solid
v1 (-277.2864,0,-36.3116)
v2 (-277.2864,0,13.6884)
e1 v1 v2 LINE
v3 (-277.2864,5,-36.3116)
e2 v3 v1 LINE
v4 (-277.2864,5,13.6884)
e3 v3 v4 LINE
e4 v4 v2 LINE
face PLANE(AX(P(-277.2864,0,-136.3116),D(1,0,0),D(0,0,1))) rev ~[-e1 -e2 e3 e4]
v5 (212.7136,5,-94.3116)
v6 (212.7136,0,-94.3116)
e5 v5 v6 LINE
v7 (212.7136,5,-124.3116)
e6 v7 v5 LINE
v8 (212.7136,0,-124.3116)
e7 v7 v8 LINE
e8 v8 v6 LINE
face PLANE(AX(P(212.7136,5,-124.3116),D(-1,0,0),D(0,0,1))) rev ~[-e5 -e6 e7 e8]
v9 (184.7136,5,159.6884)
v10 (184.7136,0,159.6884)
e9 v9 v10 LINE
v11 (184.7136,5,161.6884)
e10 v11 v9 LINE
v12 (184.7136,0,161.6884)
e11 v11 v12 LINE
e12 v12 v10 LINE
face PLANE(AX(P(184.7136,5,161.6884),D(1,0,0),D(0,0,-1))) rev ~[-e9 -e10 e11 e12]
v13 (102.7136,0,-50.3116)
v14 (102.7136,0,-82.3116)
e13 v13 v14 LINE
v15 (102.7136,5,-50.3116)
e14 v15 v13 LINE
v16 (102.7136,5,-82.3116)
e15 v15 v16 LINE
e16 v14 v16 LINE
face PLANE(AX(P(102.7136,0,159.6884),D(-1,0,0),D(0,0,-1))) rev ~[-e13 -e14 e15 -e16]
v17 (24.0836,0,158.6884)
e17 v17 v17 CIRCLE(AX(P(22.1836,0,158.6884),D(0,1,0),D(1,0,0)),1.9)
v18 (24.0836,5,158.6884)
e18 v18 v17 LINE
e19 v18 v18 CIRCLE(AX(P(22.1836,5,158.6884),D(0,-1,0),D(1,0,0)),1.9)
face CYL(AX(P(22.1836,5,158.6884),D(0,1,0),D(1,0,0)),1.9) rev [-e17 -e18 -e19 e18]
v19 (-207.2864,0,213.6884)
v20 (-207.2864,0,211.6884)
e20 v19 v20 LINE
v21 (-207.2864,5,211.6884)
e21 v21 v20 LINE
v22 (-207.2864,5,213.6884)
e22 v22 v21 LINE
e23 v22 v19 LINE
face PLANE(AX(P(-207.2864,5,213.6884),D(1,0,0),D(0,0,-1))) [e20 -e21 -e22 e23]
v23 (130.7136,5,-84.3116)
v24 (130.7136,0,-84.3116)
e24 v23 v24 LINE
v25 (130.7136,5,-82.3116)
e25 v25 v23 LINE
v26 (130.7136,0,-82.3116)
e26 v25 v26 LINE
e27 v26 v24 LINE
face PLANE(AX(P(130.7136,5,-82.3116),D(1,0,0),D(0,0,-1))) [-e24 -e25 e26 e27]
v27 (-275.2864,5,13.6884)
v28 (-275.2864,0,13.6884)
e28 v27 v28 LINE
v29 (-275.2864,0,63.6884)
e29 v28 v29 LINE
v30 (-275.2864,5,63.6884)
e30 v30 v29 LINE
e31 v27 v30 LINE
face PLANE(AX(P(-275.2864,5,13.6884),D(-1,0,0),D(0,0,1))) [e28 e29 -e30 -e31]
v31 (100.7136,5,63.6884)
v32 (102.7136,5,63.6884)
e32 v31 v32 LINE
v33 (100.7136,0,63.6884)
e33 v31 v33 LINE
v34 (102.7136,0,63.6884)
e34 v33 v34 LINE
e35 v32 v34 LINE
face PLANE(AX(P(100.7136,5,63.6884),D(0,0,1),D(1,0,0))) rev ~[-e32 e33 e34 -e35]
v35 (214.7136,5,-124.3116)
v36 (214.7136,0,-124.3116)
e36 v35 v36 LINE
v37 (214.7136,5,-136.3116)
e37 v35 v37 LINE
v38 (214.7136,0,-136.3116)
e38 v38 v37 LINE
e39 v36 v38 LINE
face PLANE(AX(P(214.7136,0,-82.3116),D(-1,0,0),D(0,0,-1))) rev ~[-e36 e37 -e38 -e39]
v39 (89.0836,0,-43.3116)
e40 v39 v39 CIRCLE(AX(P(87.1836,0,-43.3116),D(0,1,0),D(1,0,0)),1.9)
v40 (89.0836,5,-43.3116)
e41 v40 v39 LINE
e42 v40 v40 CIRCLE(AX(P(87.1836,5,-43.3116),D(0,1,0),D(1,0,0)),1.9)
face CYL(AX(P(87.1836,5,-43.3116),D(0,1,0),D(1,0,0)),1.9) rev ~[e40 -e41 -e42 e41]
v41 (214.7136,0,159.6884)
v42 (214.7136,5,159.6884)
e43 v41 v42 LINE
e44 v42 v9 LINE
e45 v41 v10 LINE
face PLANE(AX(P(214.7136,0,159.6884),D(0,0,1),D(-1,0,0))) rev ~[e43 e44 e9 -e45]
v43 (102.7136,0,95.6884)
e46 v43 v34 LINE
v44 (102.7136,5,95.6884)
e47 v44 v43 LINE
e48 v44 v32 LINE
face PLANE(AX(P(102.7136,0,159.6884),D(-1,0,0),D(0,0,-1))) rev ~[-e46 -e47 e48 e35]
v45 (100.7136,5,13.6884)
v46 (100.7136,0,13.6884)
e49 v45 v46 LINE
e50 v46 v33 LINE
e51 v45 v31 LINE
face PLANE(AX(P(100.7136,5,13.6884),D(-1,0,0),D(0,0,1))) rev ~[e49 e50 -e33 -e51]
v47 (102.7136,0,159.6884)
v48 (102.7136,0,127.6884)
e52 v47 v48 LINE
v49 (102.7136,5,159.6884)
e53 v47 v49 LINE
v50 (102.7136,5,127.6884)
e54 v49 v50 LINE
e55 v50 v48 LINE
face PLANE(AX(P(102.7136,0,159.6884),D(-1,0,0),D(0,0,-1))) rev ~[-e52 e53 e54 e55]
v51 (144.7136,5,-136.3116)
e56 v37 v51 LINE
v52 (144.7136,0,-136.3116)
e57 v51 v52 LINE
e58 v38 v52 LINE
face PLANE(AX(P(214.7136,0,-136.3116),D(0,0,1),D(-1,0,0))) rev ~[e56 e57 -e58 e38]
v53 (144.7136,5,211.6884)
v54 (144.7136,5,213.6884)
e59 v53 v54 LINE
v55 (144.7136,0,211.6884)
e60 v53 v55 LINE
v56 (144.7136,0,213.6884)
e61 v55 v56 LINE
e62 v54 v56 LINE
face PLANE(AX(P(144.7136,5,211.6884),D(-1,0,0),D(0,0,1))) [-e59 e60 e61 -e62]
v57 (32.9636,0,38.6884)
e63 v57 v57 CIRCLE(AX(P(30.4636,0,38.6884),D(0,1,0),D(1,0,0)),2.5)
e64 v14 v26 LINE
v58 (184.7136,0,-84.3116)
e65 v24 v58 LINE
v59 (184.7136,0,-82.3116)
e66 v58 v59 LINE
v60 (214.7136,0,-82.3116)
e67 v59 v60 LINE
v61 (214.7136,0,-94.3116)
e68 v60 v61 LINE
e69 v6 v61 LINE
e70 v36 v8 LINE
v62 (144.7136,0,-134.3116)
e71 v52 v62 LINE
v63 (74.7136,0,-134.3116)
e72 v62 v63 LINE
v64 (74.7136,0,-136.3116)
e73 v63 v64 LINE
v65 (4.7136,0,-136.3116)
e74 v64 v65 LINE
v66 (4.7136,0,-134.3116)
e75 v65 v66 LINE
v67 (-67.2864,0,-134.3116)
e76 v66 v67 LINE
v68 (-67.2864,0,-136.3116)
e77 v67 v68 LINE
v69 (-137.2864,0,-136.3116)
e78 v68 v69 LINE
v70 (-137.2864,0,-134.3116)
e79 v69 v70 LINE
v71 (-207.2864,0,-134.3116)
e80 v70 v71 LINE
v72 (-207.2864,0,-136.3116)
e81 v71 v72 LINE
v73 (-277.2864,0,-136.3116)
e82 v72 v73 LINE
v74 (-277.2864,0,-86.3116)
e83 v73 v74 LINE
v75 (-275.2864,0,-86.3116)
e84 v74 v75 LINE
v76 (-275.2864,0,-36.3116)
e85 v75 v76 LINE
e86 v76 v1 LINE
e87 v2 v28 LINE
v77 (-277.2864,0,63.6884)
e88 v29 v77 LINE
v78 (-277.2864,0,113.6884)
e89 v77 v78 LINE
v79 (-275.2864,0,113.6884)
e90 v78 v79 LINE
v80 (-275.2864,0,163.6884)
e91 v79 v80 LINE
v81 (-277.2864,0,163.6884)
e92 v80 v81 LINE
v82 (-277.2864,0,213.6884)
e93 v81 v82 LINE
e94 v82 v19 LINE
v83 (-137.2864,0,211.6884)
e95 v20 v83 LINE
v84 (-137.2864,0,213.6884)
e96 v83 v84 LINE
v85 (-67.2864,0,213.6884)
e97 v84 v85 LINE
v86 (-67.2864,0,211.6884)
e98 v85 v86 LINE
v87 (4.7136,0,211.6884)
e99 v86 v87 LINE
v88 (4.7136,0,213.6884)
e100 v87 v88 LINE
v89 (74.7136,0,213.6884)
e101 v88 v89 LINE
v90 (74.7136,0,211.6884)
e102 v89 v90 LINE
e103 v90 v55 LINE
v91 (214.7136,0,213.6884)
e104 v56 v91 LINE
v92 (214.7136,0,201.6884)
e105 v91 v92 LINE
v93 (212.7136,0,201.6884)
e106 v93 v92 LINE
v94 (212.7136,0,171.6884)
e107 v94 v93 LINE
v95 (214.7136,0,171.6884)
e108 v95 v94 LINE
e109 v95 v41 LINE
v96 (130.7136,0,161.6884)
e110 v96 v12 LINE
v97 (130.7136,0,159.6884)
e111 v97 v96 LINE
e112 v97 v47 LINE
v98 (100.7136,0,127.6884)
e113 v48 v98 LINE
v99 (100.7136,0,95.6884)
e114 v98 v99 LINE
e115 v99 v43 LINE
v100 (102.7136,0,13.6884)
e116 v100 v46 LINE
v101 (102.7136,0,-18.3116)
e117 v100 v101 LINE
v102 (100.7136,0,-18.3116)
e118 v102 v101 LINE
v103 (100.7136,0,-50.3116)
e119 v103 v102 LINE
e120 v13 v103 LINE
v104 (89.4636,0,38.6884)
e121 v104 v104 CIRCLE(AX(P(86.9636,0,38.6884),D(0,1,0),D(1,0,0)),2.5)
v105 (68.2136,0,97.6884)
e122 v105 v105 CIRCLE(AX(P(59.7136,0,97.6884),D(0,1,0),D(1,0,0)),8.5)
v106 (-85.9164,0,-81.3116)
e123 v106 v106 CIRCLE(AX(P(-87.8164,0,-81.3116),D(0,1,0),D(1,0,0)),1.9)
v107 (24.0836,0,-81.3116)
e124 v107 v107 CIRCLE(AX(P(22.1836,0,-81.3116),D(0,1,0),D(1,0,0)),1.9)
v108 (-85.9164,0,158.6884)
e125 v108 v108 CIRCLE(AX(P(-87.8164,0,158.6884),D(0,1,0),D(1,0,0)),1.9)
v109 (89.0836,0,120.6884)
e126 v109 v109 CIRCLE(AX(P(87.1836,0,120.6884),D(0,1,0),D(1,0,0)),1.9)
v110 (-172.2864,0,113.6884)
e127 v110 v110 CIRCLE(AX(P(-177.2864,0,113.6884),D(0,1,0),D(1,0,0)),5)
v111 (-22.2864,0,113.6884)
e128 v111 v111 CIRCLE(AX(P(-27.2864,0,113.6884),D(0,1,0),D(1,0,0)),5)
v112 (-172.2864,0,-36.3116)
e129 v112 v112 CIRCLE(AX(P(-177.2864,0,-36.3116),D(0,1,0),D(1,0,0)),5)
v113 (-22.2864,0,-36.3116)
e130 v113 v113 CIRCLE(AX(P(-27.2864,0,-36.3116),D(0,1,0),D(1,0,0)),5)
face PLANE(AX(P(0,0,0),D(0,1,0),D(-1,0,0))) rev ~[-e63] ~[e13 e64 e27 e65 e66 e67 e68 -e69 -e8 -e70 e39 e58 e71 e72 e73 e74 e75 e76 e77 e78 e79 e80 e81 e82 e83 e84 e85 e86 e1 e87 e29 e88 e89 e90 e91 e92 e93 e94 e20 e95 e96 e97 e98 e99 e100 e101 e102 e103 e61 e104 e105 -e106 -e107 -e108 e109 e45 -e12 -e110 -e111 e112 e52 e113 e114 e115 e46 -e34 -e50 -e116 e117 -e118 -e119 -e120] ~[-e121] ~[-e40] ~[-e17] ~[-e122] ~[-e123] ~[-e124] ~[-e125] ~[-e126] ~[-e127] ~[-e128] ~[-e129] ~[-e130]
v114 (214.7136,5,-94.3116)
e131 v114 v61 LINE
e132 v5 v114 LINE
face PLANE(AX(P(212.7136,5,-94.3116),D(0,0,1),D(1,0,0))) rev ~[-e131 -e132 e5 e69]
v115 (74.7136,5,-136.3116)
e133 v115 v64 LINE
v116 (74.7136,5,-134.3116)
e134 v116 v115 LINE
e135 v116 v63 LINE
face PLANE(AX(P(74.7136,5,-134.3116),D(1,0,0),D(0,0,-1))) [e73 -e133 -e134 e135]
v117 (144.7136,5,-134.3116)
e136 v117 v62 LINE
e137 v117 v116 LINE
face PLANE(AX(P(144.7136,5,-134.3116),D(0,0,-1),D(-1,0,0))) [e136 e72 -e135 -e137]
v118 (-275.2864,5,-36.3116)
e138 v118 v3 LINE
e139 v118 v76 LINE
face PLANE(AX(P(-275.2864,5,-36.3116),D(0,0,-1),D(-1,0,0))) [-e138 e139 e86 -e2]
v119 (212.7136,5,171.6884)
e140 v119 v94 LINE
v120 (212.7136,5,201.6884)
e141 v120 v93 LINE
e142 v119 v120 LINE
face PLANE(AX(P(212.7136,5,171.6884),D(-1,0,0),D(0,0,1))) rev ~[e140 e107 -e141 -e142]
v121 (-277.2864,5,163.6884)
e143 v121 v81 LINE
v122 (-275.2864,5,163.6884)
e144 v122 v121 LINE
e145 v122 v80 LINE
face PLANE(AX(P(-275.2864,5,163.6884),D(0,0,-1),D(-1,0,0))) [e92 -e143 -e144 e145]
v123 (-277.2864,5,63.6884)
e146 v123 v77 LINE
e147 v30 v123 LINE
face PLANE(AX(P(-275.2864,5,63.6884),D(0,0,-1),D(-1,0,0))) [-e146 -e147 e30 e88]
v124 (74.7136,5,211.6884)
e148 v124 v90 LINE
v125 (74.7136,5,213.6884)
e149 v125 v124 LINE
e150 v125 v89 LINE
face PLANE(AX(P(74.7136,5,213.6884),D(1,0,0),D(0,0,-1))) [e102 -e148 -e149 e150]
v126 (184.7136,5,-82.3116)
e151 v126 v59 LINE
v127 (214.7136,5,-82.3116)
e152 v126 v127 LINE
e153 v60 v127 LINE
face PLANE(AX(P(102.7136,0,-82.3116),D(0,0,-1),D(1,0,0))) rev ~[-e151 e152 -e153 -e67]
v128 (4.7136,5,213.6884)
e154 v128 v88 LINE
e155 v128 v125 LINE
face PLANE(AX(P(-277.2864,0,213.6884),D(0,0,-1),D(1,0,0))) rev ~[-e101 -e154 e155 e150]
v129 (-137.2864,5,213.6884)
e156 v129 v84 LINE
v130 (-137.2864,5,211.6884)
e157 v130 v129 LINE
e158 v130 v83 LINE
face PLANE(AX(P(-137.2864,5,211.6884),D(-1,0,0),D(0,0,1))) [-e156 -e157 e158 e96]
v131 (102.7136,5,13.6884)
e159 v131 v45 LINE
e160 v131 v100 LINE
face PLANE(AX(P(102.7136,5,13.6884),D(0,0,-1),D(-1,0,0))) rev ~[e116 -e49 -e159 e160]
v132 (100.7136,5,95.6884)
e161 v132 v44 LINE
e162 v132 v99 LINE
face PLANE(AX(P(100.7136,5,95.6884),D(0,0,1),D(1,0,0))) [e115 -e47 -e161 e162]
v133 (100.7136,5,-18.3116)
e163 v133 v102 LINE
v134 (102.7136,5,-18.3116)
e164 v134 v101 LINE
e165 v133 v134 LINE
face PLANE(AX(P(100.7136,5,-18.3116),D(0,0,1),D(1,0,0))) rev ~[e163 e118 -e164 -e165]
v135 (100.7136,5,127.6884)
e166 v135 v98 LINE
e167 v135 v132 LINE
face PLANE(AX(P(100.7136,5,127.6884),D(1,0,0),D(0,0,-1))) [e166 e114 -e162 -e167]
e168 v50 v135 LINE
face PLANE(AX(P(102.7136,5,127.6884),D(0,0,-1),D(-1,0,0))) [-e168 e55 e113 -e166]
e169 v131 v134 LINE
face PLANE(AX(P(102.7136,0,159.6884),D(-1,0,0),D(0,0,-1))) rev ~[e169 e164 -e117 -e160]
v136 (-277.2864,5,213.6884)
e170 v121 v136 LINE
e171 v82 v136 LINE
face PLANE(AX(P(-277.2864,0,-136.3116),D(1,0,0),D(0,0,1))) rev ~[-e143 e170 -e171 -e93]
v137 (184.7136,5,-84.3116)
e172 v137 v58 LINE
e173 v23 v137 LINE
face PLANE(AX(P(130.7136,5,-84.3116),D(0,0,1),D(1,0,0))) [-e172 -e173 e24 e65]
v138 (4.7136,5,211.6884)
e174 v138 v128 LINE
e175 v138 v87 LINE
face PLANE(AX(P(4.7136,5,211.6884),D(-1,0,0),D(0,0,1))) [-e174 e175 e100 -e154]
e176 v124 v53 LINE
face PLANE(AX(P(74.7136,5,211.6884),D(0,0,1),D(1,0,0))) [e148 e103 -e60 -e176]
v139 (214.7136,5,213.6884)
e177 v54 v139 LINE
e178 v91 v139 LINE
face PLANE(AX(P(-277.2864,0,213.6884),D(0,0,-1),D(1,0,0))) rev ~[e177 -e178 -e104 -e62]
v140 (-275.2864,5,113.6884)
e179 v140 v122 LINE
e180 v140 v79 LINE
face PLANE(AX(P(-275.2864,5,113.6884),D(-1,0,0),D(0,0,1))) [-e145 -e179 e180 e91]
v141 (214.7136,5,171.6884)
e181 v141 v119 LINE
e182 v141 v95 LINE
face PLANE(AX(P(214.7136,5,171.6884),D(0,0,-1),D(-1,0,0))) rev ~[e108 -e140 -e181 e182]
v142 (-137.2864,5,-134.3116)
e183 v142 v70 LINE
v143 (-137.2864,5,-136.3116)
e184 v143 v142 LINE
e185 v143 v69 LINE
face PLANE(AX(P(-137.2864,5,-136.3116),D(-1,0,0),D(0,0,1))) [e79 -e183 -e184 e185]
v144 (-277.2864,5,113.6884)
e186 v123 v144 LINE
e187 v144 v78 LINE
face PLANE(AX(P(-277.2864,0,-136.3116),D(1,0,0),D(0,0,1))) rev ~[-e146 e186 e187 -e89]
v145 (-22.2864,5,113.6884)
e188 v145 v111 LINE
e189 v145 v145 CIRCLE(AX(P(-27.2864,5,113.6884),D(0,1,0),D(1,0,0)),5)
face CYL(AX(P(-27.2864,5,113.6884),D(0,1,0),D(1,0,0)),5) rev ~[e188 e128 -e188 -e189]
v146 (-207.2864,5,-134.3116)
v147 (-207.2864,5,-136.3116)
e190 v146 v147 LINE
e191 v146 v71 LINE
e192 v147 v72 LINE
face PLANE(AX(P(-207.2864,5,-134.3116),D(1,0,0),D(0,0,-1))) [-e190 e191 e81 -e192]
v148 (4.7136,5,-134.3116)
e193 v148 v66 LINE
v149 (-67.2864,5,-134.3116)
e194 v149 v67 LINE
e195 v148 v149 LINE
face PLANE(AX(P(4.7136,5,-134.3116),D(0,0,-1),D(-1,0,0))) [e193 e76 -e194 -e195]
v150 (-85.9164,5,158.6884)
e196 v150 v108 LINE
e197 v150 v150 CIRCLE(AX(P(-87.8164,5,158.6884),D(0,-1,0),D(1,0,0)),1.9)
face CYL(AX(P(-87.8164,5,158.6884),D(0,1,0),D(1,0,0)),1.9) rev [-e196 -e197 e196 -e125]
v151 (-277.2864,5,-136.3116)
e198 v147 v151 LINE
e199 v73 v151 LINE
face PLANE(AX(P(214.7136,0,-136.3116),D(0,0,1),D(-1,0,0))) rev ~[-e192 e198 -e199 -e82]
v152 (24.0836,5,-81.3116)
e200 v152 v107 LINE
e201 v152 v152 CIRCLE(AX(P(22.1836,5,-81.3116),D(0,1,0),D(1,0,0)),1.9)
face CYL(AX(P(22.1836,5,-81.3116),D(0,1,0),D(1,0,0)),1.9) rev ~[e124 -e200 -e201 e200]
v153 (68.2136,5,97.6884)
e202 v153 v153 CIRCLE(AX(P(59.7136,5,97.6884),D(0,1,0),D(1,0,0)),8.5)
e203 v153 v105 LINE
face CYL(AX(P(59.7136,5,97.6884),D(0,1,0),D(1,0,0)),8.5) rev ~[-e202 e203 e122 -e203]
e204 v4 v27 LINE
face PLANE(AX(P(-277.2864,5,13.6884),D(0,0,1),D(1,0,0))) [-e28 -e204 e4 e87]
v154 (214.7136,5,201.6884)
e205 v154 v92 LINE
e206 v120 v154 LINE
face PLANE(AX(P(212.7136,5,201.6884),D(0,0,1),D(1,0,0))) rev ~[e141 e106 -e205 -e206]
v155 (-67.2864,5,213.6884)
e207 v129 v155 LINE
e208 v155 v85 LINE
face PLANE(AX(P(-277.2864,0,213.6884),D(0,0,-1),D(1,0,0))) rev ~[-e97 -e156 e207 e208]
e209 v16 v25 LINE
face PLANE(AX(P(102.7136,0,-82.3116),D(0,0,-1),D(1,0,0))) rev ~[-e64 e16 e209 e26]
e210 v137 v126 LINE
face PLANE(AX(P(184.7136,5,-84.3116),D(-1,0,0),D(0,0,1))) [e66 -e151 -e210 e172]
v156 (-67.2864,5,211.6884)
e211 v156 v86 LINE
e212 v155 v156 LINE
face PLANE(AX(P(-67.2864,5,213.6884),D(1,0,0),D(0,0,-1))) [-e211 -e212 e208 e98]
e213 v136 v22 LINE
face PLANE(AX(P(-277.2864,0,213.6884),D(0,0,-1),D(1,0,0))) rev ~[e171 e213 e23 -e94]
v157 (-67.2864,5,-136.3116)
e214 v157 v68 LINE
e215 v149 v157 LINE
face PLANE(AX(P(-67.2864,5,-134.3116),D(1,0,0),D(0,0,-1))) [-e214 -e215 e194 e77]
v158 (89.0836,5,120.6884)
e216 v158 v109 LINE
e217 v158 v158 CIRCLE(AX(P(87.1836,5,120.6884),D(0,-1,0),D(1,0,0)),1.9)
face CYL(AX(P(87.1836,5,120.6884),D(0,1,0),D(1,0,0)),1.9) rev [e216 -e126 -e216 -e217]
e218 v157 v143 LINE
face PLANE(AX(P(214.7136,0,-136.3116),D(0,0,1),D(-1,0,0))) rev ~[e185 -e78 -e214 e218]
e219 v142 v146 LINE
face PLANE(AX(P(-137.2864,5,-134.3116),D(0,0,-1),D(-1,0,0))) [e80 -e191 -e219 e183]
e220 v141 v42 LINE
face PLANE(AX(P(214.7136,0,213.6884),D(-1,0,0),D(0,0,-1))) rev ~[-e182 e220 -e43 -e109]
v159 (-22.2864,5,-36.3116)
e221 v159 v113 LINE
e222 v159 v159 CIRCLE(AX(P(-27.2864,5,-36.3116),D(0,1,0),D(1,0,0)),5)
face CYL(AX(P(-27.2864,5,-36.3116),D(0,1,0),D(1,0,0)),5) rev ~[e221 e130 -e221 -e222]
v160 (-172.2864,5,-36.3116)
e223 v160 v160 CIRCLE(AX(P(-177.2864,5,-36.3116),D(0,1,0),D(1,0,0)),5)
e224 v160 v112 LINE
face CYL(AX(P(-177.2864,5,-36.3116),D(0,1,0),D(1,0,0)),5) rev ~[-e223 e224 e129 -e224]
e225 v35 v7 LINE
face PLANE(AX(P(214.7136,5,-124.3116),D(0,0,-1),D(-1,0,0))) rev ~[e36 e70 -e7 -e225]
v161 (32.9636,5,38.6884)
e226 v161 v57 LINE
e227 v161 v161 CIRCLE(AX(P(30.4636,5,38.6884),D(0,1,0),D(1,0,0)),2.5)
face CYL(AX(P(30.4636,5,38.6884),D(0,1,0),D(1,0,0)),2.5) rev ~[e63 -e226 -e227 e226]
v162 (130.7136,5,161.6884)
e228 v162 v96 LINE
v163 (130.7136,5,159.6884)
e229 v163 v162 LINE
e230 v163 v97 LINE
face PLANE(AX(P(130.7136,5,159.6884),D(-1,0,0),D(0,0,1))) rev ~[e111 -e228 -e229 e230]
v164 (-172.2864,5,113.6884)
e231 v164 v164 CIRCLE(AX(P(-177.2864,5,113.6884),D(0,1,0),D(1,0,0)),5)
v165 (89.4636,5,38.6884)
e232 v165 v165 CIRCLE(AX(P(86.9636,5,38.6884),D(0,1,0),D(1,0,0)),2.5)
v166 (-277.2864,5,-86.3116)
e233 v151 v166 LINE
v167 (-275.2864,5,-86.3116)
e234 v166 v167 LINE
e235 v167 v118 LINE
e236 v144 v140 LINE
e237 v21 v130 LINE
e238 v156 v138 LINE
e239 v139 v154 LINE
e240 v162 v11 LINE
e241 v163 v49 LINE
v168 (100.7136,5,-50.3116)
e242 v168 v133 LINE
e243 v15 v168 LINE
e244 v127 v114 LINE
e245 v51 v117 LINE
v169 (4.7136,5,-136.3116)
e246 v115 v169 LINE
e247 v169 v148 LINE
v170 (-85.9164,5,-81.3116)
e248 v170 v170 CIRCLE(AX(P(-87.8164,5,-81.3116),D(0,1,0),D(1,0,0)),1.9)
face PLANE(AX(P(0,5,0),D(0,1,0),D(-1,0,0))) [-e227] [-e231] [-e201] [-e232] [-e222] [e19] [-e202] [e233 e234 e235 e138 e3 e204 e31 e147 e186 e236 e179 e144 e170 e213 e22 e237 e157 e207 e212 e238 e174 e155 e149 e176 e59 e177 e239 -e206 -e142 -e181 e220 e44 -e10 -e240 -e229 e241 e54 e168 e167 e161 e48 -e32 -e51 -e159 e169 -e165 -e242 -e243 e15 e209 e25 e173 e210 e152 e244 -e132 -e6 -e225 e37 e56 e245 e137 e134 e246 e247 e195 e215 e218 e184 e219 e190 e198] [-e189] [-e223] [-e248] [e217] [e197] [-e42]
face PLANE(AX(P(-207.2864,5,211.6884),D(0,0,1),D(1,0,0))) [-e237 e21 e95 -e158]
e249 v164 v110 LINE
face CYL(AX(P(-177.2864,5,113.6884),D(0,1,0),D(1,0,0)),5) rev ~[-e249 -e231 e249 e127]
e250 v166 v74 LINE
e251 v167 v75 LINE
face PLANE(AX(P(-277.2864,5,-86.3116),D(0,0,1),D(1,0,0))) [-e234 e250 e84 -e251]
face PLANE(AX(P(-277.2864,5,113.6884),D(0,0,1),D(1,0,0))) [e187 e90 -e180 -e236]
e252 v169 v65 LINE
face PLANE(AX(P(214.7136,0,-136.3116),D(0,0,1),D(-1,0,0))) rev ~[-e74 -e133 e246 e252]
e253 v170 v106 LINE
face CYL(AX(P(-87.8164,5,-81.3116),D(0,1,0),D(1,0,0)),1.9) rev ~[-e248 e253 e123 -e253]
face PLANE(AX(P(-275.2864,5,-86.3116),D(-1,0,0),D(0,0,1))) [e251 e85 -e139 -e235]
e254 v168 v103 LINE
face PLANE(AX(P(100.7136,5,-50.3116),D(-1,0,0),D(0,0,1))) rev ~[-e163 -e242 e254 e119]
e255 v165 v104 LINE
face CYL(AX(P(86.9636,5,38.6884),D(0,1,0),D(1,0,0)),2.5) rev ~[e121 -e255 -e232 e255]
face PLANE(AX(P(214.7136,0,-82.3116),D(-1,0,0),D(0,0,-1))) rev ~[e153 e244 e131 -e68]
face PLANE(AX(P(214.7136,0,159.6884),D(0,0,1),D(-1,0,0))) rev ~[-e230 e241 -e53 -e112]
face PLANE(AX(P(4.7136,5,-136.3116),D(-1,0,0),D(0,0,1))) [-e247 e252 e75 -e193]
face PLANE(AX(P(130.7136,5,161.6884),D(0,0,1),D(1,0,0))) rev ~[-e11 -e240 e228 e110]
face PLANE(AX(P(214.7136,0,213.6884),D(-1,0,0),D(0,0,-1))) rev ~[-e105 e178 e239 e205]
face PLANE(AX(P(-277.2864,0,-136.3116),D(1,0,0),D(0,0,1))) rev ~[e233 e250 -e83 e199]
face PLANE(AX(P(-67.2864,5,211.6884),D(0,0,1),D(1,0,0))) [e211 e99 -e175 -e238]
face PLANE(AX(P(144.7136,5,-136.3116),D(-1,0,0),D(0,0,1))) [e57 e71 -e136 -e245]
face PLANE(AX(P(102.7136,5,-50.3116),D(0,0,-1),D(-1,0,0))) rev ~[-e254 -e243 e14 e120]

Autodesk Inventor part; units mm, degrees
ref_plane "YZ Plane" through (0, 0, 0) normal (1, 0, 0) x (0, 1, 0)
ref_plane "XZ Plane" through (0, 0, 0) normal (0, 1, 0) x (-1, 0, 0)
sketch "Sketch1" plane through (0, 0, 0) normal (0, 1, 0) x (-1, 0, 0)
  line L0 (277.2864, 213.6884) -> (-214.7136, 213.6884)
  line L1 (-214.7136, -136.3116) -> (277.2864, -136.3116)
  line L2 (277.2864, -136.3116) -> (277.2864, 213.6884)
  line L3 (-214.7136, 159.6884) -> (-102.7136, 159.6884)
  line L4 (-102.7136, 159.6884) -> (-102.7136, -82.3116)
  line L5 (-102.7136, -82.3116) -> (-214.7136, -82.3116)
  line L6 (-214.7136, 213.6884) -> (-214.7136, 159.6884)
  line L7 (-214.7136, -82.3116) -> (-214.7136, -136.3116)
  point P0 (0, 0)
  dimension "d0" = 350
  dimension "d1" = 492
  dimension "d2" = 112
  dimension "d3" = 112
  dimension "d4" = 54
  dimension "d5" = 54
extrude "Extrusion1" add sketch "Sketch1" along normal blind 5
sketch "Sketch2" plane through (0, 5, 0) normal (0, 1, 0) x (1, 0, 0)
  line L0 (214.7136, 136.3116) -> (-277.2864, 136.3116) projected
  line L1 (-207.2864, 136.3116) -> (-137.2864, 136.3116)
  line L2 (-137.2864, 136.3116) -> (-137.2864, 134.3116)
  line L3 (-137.2864, 134.3116) -> (-207.2864, 134.3116)
  line L4 (-207.2864, 134.3116) -> (-207.2864, 136.3116)
  line L5 (-67.2864, 136.3116) -> (4.7136, 136.3116)
  line L6 (4.7136, 136.3116) -> (4.7136, 134.3116)
  line L7 (4.7136, 134.3116) -> (-67.2864, 134.3116)
  line L8 (-67.2864, 134.3116) -> (-67.2864, 136.3116)
  line L9 (74.7136, 136.3116) -> (144.7136, 136.3116)
  line L10 (144.7136, 136.3116) -> (144.7136, 134.3116)
  line L11 (144.7136, 134.3116) -> (74.7136, 134.3116)
  line L12 (74.7136, 134.3116) -> (74.7136, 136.3116)
  line L13 (-277.2864, -213.6884) -> (214.7136, -213.6884) projected
  line L14 (144.7136, -213.6884) -> (74.7136, -213.6884)
  line L15 (74.7136, -213.6884) -> (74.7136, -211.6884)
  line L16 (74.7136, -211.6884) -> (144.7136, -211.6884)
  line L17 (144.7136, -211.6884) -> (144.7136, -213.6884)
  line L18 (4.7136, -213.6884) -> (-67.2864, -213.6884)
  line L19 (-67.2864, -213.6884) -> (-67.2864, -211.6884)
  line L20 (-67.2864, -211.6884) -> (4.7136, -211.6884)
  line L21 (4.7136, -211.6884) -> (4.7136, -213.6884)
  line L22 (-137.2864, -213.6884) -> (-207.2864, -213.6884)
  line L23 (-207.2864, -213.6884) -> (-207.2864, -211.6884)
  line L24 (-207.2864, -211.6884) -> (-137.2864, -211.6884)
  line L25 (-137.2864, -211.6884) -> (-137.2864, -213.6884)
  line L26 (-277.2864, 136.3116) -> (-277.2864, -213.6884) projected
  line L27 (-277.2864, 86.3116) -> (-275.2864, 86.3116)
  line L28 (-275.2864, 86.3116) -> (-275.2864, 36.3116)
  line L29 (-275.2864, 36.3116) -> (-277.2864, 36.3116)
  line L30 (-277.2864, 36.3116) -> (-277.2864, 86.3116)
  line L31 (-277.2864, -13.6884) -> (-275.2864, -13.6884)
  line L32 (-275.2864, -13.6884) -> (-275.2864, -63.6884)
  line L33 (-275.2864, -63.6884) -> (-277.2864, -63.6884)
  line L34 (-277.2864, -63.6884) -> (-277.2864, -13.6884)
  line L35 (-277.2864, -113.6884) -> (-275.2864, -113.6884)
  line L36 (-275.2864, -113.6884) -> (-275.2864, -163.6884)
  line L37 (-275.2864, -163.6884) -> (-277.2864, -163.6884)
  line L38 (-277.2864, -163.6884) -> (-277.2864, -113.6884)
  line L39 (214.7136, 82.3116) -> (214.7136, 136.3116) projected
  line L40 (214.7136, 124.3116) -> (212.7136, 124.3116)
  line L41 (212.7136, 124.3116) -> (212.7136, 94.3116)
  line L42 (212.7136, 94.3116) -> (214.7136, 94.3116)
  line L43 (214.7136, 94.3116) -> (214.7136, 124.3116)
  line L44 (214.7136, -213.6884) -> (214.7136, -159.6884) projected
  line L45 (214.7136, -171.6884) -> (212.7136, -171.6884)
  line L46 (212.7136, -171.6884) -> (212.7136, -201.6884)
  line L47 (212.7136, -201.6884) -> (214.7136, -201.6884)
  line L48 (214.7136, -201.6884) -> (214.7136, -171.6884)
  line L49 (102.7136, 82.3116) -> (214.7136, 82.3116) projected
  line L50 (214.7136, -159.6884) -> (102.7136, -159.6884) projected
  line L51 (184.7136, 82.3116) -> (130.7136, 82.3116)
  line L52 (130.7136, 82.3116) -> (130.7136, 84.3116)
  line L53 (130.7136, 84.3116) -> (184.7136, 84.3116)
  line L54 (184.7136, 84.3116) -> (184.7136, 82.3116)
  line L55 (184.7136, -159.6884) -> (130.7136, -159.6884)
  line L56 (130.7136, -159.6884) -> (130.7136, -161.6884)
  line L57 (130.7136, -161.6884) -> (184.7136, -161.6884)
  line L58 (184.7136, -161.6884) -> (184.7136, -159.6884)
  line L59 (102.7136, -159.6884) -> (102.7136, 82.3116) projected
  line L60 (102.7136, 50.3116) -> (100.7136, 50.3116)
  line L61 (100.7136, 50.3116) -> (100.7136, 18.3116)
  line L62 (100.7136, 18.3116) -> (102.7136, 18.3116)
  line L63 (102.7136, 18.3116) -> (102.7136, 50.3116)
  line L64 (102.7136, -13.6884) -> (100.7136, -13.6884)
  line L65 (100.7136, -13.6884) -> (100.7136, -63.6884)
  line L66 (100.7136, -63.6884) -> (102.7136, -63.6884)
  line L67 (102.7136, -63.6884) -> (102.7136, -13.6884)
  line L68 (102.7136, -127.6884) -> (100.7136, -127.6884)
  line L69 (100.7136, -127.6884) -> (100.7136, -95.6884)
  line L70 (100.7136, -95.6884) -> (102.7136, -95.6884)
  line L71 (102.7136, -95.6884) -> (102.7136, -127.6884)
  point P0 (0, 0)
  point P1 (-207.2864, -213.6884)
  point P2 (130.7136, -159.6884)
  dimension "d8" = 2
  dimension "d9" = 2
  dimension "d10" = 2
  dimension "d11" = 2
  dimension "d12" = 50
  dimension "d13" = 50
  dimension "d14" = 50
  dimension "d15" = 50
  dimension "d16" = 50
  dimension "d17" = 50
  dimension "d18" = 12
  dimension "d19" = 12
  dimension "d20" = 12
  dimension "d21" = 12
  dimension "d22" = 70
  dimension "d23" = 70
  dimension "d24" = 72
  dimension "d25" = 70
  dimension "d26" = 70
  dimension "d27" = 70
  dimension "d28" = 2
  dimension "d29" = 2
  dimension "d30" = 30
  dimension "d32" = 2
  dimension "d33" = 2
  dimension "d34" = 2
  dimension "d35" = 32
  dimension "d36" = 32
  dimension "d37" = 32
  dimension "d39" = 32
  dimension "d40" = 32
  dimension "d41" = 32
  dimension "d42" = 50
  dimension "d45" = 72
  dimension "d46" = 70
  dimension "d47" = 28
  dimension "d48" = 28
  dimension "d49" = 54
  dimension "d50" = 54
  dimension "d51" = 30
extrude "Extrusion2" cut sketch "Sketch2" against normal blind 10 contours L10 L11 L12 L0 | L39 L42 L41 L40 | L6 L7 L8 L0 | L49 L52 L53 L54 | L2 L3 L4 L0 | L59 L62 L61 L60 | L27 L28 L29 L26 | L59 L66 L65 L64 | L31 L32 L33 L26 | L59 L68 L69 L70 | L35 L36 L37 L26 | L50 L58 L57 L56 | L23 L24 L25 L13 | L19 L20 L21 L13 | L44 L47 L46 L45 | L15 L16 L17 L13
sketch "Sketch3" plane through (0, 5, 0) normal (0, 1, 0) x (1, 0, 0)
  circle A0 centre (-177.2864, 36.3116) radius 5
  line L0 (-277.2864, 136.3116) -> (-277.2864, 86.3116) projected
  line L1 (-207.2864, 136.3116) -> (-277.2864, 136.3116) projected
  point P0 (0, 0)
  dimension "d52" = 100
  dimension "d53" = 100
  dimension "d54" = 10
extrude "Extrusion3" cut sketch "Sketch3" against normal blind 10
pattern_linear "Rectangular Pattern1" count 2 spacing 150 along (0, 0, 1) count 2 spacing 150 along (1, 0, 0) of "Extrusion3"
sketch "Sketch5" plane through (0, 5, 0) normal (0, 1, 0) x (1, 0, 0)
  circle A0 centre (87.1836, 43.3116) radius 1.9
  circle A1 centre (22.1836, 81.3116) radius 1.9
  circle A2 centre (-87.8164, 81.3116) radius 1.9
  line L0 (102.7136, 50.3116) -> (102.7136, 82.3116) projected
  line L1 (102.7136, -13.6884) -> (102.7136, 18.3116) projected
  line L2 (-67.2864, 136.3116) -> (-137.2864, 136.3116) projected
  line L3 (74.7136, 136.3116) -> (4.7136, 136.3116) projected
  point P0 (0, 0)
  dimension "d63" = 15.53
  dimension "d64" = 3.8
  dimension "d65" = 80.53
  dimension "d66" = 3.8
  dimension "d67" = 3.8
  dimension "d68" = 190.53
  dimension "d69" = 55
  dimension "d70" = 55
  dimension "d71" = 93
extrude "Extrusion4" cut sketch "Sketch5" against normal blind 10
sketch "Sketch6" plane through (0, 5, 0) normal (0, 1, 0) x (1, 0, 0)
  line L0 (100.7136, -63.6884) -> (100.7136, -13.6884) projected
  line L1 (100.7136, -38.6884) -> (-275.2864, -38.6884)
  line L2 (-275.2864, -63.6884) -> (-275.2864, -13.6884) projected
  point P0 (0, 0)
ref_plane "Work Plane2" through (100.7136, 5, 38.6884) normal (0, 0, 1) x (1, 0, 0)
mirror "Mirror1" about plane through (100.7136, 5, 38.6884) normal (0, 0, 1) of "Extrusion4"
sketch "Sketch8" plane through (0, 5, 0) normal (0, 1, 0) x (1, 0, 0)
  circle A0 centre (86.9636, -38.6884) radius 2.5
  circle A1 centre (30.4636, -38.6884) radius 2.5
  line L0 (130.7136, -159.6884) -> (102.7136, -159.6884) projected
  line L1 (102.7136, -95.6884) -> (102.7136, -63.6884) projected
  point P0 (0, 0)
  point P1 (116.7136, -159.6884)
  dimension "d78" = 5
  dimension "d79" = 121
  dimension "d80" = 121
  dimension "d81" = 15.75
  dimension "d82" = 56.5
  dimension "d83" = 5
extrude "Extrusion5" cut sketch "Sketch8" against normal blind 10
sketch "Sketch9" plane through (0, 5, 0) normal (0, 1, 0) x (1, 0, 0)
  circle A0 centre (59.7136, -97.6884) radius 8.5
  line L0 (4.7136, -213.6884) -> (74.7136, -213.6884) projected
  line L1 (102.7136, -95.6884) -> (102.7136, -63.6884) projected
  point P0 (0, 0)
  dimension "d86" = 17
  dimension "d87" = 116
  dimension "d88" = 43
extrude "Extrusion6" cut sketch "Sketch9" against normal blind 10
properties part number "top"
